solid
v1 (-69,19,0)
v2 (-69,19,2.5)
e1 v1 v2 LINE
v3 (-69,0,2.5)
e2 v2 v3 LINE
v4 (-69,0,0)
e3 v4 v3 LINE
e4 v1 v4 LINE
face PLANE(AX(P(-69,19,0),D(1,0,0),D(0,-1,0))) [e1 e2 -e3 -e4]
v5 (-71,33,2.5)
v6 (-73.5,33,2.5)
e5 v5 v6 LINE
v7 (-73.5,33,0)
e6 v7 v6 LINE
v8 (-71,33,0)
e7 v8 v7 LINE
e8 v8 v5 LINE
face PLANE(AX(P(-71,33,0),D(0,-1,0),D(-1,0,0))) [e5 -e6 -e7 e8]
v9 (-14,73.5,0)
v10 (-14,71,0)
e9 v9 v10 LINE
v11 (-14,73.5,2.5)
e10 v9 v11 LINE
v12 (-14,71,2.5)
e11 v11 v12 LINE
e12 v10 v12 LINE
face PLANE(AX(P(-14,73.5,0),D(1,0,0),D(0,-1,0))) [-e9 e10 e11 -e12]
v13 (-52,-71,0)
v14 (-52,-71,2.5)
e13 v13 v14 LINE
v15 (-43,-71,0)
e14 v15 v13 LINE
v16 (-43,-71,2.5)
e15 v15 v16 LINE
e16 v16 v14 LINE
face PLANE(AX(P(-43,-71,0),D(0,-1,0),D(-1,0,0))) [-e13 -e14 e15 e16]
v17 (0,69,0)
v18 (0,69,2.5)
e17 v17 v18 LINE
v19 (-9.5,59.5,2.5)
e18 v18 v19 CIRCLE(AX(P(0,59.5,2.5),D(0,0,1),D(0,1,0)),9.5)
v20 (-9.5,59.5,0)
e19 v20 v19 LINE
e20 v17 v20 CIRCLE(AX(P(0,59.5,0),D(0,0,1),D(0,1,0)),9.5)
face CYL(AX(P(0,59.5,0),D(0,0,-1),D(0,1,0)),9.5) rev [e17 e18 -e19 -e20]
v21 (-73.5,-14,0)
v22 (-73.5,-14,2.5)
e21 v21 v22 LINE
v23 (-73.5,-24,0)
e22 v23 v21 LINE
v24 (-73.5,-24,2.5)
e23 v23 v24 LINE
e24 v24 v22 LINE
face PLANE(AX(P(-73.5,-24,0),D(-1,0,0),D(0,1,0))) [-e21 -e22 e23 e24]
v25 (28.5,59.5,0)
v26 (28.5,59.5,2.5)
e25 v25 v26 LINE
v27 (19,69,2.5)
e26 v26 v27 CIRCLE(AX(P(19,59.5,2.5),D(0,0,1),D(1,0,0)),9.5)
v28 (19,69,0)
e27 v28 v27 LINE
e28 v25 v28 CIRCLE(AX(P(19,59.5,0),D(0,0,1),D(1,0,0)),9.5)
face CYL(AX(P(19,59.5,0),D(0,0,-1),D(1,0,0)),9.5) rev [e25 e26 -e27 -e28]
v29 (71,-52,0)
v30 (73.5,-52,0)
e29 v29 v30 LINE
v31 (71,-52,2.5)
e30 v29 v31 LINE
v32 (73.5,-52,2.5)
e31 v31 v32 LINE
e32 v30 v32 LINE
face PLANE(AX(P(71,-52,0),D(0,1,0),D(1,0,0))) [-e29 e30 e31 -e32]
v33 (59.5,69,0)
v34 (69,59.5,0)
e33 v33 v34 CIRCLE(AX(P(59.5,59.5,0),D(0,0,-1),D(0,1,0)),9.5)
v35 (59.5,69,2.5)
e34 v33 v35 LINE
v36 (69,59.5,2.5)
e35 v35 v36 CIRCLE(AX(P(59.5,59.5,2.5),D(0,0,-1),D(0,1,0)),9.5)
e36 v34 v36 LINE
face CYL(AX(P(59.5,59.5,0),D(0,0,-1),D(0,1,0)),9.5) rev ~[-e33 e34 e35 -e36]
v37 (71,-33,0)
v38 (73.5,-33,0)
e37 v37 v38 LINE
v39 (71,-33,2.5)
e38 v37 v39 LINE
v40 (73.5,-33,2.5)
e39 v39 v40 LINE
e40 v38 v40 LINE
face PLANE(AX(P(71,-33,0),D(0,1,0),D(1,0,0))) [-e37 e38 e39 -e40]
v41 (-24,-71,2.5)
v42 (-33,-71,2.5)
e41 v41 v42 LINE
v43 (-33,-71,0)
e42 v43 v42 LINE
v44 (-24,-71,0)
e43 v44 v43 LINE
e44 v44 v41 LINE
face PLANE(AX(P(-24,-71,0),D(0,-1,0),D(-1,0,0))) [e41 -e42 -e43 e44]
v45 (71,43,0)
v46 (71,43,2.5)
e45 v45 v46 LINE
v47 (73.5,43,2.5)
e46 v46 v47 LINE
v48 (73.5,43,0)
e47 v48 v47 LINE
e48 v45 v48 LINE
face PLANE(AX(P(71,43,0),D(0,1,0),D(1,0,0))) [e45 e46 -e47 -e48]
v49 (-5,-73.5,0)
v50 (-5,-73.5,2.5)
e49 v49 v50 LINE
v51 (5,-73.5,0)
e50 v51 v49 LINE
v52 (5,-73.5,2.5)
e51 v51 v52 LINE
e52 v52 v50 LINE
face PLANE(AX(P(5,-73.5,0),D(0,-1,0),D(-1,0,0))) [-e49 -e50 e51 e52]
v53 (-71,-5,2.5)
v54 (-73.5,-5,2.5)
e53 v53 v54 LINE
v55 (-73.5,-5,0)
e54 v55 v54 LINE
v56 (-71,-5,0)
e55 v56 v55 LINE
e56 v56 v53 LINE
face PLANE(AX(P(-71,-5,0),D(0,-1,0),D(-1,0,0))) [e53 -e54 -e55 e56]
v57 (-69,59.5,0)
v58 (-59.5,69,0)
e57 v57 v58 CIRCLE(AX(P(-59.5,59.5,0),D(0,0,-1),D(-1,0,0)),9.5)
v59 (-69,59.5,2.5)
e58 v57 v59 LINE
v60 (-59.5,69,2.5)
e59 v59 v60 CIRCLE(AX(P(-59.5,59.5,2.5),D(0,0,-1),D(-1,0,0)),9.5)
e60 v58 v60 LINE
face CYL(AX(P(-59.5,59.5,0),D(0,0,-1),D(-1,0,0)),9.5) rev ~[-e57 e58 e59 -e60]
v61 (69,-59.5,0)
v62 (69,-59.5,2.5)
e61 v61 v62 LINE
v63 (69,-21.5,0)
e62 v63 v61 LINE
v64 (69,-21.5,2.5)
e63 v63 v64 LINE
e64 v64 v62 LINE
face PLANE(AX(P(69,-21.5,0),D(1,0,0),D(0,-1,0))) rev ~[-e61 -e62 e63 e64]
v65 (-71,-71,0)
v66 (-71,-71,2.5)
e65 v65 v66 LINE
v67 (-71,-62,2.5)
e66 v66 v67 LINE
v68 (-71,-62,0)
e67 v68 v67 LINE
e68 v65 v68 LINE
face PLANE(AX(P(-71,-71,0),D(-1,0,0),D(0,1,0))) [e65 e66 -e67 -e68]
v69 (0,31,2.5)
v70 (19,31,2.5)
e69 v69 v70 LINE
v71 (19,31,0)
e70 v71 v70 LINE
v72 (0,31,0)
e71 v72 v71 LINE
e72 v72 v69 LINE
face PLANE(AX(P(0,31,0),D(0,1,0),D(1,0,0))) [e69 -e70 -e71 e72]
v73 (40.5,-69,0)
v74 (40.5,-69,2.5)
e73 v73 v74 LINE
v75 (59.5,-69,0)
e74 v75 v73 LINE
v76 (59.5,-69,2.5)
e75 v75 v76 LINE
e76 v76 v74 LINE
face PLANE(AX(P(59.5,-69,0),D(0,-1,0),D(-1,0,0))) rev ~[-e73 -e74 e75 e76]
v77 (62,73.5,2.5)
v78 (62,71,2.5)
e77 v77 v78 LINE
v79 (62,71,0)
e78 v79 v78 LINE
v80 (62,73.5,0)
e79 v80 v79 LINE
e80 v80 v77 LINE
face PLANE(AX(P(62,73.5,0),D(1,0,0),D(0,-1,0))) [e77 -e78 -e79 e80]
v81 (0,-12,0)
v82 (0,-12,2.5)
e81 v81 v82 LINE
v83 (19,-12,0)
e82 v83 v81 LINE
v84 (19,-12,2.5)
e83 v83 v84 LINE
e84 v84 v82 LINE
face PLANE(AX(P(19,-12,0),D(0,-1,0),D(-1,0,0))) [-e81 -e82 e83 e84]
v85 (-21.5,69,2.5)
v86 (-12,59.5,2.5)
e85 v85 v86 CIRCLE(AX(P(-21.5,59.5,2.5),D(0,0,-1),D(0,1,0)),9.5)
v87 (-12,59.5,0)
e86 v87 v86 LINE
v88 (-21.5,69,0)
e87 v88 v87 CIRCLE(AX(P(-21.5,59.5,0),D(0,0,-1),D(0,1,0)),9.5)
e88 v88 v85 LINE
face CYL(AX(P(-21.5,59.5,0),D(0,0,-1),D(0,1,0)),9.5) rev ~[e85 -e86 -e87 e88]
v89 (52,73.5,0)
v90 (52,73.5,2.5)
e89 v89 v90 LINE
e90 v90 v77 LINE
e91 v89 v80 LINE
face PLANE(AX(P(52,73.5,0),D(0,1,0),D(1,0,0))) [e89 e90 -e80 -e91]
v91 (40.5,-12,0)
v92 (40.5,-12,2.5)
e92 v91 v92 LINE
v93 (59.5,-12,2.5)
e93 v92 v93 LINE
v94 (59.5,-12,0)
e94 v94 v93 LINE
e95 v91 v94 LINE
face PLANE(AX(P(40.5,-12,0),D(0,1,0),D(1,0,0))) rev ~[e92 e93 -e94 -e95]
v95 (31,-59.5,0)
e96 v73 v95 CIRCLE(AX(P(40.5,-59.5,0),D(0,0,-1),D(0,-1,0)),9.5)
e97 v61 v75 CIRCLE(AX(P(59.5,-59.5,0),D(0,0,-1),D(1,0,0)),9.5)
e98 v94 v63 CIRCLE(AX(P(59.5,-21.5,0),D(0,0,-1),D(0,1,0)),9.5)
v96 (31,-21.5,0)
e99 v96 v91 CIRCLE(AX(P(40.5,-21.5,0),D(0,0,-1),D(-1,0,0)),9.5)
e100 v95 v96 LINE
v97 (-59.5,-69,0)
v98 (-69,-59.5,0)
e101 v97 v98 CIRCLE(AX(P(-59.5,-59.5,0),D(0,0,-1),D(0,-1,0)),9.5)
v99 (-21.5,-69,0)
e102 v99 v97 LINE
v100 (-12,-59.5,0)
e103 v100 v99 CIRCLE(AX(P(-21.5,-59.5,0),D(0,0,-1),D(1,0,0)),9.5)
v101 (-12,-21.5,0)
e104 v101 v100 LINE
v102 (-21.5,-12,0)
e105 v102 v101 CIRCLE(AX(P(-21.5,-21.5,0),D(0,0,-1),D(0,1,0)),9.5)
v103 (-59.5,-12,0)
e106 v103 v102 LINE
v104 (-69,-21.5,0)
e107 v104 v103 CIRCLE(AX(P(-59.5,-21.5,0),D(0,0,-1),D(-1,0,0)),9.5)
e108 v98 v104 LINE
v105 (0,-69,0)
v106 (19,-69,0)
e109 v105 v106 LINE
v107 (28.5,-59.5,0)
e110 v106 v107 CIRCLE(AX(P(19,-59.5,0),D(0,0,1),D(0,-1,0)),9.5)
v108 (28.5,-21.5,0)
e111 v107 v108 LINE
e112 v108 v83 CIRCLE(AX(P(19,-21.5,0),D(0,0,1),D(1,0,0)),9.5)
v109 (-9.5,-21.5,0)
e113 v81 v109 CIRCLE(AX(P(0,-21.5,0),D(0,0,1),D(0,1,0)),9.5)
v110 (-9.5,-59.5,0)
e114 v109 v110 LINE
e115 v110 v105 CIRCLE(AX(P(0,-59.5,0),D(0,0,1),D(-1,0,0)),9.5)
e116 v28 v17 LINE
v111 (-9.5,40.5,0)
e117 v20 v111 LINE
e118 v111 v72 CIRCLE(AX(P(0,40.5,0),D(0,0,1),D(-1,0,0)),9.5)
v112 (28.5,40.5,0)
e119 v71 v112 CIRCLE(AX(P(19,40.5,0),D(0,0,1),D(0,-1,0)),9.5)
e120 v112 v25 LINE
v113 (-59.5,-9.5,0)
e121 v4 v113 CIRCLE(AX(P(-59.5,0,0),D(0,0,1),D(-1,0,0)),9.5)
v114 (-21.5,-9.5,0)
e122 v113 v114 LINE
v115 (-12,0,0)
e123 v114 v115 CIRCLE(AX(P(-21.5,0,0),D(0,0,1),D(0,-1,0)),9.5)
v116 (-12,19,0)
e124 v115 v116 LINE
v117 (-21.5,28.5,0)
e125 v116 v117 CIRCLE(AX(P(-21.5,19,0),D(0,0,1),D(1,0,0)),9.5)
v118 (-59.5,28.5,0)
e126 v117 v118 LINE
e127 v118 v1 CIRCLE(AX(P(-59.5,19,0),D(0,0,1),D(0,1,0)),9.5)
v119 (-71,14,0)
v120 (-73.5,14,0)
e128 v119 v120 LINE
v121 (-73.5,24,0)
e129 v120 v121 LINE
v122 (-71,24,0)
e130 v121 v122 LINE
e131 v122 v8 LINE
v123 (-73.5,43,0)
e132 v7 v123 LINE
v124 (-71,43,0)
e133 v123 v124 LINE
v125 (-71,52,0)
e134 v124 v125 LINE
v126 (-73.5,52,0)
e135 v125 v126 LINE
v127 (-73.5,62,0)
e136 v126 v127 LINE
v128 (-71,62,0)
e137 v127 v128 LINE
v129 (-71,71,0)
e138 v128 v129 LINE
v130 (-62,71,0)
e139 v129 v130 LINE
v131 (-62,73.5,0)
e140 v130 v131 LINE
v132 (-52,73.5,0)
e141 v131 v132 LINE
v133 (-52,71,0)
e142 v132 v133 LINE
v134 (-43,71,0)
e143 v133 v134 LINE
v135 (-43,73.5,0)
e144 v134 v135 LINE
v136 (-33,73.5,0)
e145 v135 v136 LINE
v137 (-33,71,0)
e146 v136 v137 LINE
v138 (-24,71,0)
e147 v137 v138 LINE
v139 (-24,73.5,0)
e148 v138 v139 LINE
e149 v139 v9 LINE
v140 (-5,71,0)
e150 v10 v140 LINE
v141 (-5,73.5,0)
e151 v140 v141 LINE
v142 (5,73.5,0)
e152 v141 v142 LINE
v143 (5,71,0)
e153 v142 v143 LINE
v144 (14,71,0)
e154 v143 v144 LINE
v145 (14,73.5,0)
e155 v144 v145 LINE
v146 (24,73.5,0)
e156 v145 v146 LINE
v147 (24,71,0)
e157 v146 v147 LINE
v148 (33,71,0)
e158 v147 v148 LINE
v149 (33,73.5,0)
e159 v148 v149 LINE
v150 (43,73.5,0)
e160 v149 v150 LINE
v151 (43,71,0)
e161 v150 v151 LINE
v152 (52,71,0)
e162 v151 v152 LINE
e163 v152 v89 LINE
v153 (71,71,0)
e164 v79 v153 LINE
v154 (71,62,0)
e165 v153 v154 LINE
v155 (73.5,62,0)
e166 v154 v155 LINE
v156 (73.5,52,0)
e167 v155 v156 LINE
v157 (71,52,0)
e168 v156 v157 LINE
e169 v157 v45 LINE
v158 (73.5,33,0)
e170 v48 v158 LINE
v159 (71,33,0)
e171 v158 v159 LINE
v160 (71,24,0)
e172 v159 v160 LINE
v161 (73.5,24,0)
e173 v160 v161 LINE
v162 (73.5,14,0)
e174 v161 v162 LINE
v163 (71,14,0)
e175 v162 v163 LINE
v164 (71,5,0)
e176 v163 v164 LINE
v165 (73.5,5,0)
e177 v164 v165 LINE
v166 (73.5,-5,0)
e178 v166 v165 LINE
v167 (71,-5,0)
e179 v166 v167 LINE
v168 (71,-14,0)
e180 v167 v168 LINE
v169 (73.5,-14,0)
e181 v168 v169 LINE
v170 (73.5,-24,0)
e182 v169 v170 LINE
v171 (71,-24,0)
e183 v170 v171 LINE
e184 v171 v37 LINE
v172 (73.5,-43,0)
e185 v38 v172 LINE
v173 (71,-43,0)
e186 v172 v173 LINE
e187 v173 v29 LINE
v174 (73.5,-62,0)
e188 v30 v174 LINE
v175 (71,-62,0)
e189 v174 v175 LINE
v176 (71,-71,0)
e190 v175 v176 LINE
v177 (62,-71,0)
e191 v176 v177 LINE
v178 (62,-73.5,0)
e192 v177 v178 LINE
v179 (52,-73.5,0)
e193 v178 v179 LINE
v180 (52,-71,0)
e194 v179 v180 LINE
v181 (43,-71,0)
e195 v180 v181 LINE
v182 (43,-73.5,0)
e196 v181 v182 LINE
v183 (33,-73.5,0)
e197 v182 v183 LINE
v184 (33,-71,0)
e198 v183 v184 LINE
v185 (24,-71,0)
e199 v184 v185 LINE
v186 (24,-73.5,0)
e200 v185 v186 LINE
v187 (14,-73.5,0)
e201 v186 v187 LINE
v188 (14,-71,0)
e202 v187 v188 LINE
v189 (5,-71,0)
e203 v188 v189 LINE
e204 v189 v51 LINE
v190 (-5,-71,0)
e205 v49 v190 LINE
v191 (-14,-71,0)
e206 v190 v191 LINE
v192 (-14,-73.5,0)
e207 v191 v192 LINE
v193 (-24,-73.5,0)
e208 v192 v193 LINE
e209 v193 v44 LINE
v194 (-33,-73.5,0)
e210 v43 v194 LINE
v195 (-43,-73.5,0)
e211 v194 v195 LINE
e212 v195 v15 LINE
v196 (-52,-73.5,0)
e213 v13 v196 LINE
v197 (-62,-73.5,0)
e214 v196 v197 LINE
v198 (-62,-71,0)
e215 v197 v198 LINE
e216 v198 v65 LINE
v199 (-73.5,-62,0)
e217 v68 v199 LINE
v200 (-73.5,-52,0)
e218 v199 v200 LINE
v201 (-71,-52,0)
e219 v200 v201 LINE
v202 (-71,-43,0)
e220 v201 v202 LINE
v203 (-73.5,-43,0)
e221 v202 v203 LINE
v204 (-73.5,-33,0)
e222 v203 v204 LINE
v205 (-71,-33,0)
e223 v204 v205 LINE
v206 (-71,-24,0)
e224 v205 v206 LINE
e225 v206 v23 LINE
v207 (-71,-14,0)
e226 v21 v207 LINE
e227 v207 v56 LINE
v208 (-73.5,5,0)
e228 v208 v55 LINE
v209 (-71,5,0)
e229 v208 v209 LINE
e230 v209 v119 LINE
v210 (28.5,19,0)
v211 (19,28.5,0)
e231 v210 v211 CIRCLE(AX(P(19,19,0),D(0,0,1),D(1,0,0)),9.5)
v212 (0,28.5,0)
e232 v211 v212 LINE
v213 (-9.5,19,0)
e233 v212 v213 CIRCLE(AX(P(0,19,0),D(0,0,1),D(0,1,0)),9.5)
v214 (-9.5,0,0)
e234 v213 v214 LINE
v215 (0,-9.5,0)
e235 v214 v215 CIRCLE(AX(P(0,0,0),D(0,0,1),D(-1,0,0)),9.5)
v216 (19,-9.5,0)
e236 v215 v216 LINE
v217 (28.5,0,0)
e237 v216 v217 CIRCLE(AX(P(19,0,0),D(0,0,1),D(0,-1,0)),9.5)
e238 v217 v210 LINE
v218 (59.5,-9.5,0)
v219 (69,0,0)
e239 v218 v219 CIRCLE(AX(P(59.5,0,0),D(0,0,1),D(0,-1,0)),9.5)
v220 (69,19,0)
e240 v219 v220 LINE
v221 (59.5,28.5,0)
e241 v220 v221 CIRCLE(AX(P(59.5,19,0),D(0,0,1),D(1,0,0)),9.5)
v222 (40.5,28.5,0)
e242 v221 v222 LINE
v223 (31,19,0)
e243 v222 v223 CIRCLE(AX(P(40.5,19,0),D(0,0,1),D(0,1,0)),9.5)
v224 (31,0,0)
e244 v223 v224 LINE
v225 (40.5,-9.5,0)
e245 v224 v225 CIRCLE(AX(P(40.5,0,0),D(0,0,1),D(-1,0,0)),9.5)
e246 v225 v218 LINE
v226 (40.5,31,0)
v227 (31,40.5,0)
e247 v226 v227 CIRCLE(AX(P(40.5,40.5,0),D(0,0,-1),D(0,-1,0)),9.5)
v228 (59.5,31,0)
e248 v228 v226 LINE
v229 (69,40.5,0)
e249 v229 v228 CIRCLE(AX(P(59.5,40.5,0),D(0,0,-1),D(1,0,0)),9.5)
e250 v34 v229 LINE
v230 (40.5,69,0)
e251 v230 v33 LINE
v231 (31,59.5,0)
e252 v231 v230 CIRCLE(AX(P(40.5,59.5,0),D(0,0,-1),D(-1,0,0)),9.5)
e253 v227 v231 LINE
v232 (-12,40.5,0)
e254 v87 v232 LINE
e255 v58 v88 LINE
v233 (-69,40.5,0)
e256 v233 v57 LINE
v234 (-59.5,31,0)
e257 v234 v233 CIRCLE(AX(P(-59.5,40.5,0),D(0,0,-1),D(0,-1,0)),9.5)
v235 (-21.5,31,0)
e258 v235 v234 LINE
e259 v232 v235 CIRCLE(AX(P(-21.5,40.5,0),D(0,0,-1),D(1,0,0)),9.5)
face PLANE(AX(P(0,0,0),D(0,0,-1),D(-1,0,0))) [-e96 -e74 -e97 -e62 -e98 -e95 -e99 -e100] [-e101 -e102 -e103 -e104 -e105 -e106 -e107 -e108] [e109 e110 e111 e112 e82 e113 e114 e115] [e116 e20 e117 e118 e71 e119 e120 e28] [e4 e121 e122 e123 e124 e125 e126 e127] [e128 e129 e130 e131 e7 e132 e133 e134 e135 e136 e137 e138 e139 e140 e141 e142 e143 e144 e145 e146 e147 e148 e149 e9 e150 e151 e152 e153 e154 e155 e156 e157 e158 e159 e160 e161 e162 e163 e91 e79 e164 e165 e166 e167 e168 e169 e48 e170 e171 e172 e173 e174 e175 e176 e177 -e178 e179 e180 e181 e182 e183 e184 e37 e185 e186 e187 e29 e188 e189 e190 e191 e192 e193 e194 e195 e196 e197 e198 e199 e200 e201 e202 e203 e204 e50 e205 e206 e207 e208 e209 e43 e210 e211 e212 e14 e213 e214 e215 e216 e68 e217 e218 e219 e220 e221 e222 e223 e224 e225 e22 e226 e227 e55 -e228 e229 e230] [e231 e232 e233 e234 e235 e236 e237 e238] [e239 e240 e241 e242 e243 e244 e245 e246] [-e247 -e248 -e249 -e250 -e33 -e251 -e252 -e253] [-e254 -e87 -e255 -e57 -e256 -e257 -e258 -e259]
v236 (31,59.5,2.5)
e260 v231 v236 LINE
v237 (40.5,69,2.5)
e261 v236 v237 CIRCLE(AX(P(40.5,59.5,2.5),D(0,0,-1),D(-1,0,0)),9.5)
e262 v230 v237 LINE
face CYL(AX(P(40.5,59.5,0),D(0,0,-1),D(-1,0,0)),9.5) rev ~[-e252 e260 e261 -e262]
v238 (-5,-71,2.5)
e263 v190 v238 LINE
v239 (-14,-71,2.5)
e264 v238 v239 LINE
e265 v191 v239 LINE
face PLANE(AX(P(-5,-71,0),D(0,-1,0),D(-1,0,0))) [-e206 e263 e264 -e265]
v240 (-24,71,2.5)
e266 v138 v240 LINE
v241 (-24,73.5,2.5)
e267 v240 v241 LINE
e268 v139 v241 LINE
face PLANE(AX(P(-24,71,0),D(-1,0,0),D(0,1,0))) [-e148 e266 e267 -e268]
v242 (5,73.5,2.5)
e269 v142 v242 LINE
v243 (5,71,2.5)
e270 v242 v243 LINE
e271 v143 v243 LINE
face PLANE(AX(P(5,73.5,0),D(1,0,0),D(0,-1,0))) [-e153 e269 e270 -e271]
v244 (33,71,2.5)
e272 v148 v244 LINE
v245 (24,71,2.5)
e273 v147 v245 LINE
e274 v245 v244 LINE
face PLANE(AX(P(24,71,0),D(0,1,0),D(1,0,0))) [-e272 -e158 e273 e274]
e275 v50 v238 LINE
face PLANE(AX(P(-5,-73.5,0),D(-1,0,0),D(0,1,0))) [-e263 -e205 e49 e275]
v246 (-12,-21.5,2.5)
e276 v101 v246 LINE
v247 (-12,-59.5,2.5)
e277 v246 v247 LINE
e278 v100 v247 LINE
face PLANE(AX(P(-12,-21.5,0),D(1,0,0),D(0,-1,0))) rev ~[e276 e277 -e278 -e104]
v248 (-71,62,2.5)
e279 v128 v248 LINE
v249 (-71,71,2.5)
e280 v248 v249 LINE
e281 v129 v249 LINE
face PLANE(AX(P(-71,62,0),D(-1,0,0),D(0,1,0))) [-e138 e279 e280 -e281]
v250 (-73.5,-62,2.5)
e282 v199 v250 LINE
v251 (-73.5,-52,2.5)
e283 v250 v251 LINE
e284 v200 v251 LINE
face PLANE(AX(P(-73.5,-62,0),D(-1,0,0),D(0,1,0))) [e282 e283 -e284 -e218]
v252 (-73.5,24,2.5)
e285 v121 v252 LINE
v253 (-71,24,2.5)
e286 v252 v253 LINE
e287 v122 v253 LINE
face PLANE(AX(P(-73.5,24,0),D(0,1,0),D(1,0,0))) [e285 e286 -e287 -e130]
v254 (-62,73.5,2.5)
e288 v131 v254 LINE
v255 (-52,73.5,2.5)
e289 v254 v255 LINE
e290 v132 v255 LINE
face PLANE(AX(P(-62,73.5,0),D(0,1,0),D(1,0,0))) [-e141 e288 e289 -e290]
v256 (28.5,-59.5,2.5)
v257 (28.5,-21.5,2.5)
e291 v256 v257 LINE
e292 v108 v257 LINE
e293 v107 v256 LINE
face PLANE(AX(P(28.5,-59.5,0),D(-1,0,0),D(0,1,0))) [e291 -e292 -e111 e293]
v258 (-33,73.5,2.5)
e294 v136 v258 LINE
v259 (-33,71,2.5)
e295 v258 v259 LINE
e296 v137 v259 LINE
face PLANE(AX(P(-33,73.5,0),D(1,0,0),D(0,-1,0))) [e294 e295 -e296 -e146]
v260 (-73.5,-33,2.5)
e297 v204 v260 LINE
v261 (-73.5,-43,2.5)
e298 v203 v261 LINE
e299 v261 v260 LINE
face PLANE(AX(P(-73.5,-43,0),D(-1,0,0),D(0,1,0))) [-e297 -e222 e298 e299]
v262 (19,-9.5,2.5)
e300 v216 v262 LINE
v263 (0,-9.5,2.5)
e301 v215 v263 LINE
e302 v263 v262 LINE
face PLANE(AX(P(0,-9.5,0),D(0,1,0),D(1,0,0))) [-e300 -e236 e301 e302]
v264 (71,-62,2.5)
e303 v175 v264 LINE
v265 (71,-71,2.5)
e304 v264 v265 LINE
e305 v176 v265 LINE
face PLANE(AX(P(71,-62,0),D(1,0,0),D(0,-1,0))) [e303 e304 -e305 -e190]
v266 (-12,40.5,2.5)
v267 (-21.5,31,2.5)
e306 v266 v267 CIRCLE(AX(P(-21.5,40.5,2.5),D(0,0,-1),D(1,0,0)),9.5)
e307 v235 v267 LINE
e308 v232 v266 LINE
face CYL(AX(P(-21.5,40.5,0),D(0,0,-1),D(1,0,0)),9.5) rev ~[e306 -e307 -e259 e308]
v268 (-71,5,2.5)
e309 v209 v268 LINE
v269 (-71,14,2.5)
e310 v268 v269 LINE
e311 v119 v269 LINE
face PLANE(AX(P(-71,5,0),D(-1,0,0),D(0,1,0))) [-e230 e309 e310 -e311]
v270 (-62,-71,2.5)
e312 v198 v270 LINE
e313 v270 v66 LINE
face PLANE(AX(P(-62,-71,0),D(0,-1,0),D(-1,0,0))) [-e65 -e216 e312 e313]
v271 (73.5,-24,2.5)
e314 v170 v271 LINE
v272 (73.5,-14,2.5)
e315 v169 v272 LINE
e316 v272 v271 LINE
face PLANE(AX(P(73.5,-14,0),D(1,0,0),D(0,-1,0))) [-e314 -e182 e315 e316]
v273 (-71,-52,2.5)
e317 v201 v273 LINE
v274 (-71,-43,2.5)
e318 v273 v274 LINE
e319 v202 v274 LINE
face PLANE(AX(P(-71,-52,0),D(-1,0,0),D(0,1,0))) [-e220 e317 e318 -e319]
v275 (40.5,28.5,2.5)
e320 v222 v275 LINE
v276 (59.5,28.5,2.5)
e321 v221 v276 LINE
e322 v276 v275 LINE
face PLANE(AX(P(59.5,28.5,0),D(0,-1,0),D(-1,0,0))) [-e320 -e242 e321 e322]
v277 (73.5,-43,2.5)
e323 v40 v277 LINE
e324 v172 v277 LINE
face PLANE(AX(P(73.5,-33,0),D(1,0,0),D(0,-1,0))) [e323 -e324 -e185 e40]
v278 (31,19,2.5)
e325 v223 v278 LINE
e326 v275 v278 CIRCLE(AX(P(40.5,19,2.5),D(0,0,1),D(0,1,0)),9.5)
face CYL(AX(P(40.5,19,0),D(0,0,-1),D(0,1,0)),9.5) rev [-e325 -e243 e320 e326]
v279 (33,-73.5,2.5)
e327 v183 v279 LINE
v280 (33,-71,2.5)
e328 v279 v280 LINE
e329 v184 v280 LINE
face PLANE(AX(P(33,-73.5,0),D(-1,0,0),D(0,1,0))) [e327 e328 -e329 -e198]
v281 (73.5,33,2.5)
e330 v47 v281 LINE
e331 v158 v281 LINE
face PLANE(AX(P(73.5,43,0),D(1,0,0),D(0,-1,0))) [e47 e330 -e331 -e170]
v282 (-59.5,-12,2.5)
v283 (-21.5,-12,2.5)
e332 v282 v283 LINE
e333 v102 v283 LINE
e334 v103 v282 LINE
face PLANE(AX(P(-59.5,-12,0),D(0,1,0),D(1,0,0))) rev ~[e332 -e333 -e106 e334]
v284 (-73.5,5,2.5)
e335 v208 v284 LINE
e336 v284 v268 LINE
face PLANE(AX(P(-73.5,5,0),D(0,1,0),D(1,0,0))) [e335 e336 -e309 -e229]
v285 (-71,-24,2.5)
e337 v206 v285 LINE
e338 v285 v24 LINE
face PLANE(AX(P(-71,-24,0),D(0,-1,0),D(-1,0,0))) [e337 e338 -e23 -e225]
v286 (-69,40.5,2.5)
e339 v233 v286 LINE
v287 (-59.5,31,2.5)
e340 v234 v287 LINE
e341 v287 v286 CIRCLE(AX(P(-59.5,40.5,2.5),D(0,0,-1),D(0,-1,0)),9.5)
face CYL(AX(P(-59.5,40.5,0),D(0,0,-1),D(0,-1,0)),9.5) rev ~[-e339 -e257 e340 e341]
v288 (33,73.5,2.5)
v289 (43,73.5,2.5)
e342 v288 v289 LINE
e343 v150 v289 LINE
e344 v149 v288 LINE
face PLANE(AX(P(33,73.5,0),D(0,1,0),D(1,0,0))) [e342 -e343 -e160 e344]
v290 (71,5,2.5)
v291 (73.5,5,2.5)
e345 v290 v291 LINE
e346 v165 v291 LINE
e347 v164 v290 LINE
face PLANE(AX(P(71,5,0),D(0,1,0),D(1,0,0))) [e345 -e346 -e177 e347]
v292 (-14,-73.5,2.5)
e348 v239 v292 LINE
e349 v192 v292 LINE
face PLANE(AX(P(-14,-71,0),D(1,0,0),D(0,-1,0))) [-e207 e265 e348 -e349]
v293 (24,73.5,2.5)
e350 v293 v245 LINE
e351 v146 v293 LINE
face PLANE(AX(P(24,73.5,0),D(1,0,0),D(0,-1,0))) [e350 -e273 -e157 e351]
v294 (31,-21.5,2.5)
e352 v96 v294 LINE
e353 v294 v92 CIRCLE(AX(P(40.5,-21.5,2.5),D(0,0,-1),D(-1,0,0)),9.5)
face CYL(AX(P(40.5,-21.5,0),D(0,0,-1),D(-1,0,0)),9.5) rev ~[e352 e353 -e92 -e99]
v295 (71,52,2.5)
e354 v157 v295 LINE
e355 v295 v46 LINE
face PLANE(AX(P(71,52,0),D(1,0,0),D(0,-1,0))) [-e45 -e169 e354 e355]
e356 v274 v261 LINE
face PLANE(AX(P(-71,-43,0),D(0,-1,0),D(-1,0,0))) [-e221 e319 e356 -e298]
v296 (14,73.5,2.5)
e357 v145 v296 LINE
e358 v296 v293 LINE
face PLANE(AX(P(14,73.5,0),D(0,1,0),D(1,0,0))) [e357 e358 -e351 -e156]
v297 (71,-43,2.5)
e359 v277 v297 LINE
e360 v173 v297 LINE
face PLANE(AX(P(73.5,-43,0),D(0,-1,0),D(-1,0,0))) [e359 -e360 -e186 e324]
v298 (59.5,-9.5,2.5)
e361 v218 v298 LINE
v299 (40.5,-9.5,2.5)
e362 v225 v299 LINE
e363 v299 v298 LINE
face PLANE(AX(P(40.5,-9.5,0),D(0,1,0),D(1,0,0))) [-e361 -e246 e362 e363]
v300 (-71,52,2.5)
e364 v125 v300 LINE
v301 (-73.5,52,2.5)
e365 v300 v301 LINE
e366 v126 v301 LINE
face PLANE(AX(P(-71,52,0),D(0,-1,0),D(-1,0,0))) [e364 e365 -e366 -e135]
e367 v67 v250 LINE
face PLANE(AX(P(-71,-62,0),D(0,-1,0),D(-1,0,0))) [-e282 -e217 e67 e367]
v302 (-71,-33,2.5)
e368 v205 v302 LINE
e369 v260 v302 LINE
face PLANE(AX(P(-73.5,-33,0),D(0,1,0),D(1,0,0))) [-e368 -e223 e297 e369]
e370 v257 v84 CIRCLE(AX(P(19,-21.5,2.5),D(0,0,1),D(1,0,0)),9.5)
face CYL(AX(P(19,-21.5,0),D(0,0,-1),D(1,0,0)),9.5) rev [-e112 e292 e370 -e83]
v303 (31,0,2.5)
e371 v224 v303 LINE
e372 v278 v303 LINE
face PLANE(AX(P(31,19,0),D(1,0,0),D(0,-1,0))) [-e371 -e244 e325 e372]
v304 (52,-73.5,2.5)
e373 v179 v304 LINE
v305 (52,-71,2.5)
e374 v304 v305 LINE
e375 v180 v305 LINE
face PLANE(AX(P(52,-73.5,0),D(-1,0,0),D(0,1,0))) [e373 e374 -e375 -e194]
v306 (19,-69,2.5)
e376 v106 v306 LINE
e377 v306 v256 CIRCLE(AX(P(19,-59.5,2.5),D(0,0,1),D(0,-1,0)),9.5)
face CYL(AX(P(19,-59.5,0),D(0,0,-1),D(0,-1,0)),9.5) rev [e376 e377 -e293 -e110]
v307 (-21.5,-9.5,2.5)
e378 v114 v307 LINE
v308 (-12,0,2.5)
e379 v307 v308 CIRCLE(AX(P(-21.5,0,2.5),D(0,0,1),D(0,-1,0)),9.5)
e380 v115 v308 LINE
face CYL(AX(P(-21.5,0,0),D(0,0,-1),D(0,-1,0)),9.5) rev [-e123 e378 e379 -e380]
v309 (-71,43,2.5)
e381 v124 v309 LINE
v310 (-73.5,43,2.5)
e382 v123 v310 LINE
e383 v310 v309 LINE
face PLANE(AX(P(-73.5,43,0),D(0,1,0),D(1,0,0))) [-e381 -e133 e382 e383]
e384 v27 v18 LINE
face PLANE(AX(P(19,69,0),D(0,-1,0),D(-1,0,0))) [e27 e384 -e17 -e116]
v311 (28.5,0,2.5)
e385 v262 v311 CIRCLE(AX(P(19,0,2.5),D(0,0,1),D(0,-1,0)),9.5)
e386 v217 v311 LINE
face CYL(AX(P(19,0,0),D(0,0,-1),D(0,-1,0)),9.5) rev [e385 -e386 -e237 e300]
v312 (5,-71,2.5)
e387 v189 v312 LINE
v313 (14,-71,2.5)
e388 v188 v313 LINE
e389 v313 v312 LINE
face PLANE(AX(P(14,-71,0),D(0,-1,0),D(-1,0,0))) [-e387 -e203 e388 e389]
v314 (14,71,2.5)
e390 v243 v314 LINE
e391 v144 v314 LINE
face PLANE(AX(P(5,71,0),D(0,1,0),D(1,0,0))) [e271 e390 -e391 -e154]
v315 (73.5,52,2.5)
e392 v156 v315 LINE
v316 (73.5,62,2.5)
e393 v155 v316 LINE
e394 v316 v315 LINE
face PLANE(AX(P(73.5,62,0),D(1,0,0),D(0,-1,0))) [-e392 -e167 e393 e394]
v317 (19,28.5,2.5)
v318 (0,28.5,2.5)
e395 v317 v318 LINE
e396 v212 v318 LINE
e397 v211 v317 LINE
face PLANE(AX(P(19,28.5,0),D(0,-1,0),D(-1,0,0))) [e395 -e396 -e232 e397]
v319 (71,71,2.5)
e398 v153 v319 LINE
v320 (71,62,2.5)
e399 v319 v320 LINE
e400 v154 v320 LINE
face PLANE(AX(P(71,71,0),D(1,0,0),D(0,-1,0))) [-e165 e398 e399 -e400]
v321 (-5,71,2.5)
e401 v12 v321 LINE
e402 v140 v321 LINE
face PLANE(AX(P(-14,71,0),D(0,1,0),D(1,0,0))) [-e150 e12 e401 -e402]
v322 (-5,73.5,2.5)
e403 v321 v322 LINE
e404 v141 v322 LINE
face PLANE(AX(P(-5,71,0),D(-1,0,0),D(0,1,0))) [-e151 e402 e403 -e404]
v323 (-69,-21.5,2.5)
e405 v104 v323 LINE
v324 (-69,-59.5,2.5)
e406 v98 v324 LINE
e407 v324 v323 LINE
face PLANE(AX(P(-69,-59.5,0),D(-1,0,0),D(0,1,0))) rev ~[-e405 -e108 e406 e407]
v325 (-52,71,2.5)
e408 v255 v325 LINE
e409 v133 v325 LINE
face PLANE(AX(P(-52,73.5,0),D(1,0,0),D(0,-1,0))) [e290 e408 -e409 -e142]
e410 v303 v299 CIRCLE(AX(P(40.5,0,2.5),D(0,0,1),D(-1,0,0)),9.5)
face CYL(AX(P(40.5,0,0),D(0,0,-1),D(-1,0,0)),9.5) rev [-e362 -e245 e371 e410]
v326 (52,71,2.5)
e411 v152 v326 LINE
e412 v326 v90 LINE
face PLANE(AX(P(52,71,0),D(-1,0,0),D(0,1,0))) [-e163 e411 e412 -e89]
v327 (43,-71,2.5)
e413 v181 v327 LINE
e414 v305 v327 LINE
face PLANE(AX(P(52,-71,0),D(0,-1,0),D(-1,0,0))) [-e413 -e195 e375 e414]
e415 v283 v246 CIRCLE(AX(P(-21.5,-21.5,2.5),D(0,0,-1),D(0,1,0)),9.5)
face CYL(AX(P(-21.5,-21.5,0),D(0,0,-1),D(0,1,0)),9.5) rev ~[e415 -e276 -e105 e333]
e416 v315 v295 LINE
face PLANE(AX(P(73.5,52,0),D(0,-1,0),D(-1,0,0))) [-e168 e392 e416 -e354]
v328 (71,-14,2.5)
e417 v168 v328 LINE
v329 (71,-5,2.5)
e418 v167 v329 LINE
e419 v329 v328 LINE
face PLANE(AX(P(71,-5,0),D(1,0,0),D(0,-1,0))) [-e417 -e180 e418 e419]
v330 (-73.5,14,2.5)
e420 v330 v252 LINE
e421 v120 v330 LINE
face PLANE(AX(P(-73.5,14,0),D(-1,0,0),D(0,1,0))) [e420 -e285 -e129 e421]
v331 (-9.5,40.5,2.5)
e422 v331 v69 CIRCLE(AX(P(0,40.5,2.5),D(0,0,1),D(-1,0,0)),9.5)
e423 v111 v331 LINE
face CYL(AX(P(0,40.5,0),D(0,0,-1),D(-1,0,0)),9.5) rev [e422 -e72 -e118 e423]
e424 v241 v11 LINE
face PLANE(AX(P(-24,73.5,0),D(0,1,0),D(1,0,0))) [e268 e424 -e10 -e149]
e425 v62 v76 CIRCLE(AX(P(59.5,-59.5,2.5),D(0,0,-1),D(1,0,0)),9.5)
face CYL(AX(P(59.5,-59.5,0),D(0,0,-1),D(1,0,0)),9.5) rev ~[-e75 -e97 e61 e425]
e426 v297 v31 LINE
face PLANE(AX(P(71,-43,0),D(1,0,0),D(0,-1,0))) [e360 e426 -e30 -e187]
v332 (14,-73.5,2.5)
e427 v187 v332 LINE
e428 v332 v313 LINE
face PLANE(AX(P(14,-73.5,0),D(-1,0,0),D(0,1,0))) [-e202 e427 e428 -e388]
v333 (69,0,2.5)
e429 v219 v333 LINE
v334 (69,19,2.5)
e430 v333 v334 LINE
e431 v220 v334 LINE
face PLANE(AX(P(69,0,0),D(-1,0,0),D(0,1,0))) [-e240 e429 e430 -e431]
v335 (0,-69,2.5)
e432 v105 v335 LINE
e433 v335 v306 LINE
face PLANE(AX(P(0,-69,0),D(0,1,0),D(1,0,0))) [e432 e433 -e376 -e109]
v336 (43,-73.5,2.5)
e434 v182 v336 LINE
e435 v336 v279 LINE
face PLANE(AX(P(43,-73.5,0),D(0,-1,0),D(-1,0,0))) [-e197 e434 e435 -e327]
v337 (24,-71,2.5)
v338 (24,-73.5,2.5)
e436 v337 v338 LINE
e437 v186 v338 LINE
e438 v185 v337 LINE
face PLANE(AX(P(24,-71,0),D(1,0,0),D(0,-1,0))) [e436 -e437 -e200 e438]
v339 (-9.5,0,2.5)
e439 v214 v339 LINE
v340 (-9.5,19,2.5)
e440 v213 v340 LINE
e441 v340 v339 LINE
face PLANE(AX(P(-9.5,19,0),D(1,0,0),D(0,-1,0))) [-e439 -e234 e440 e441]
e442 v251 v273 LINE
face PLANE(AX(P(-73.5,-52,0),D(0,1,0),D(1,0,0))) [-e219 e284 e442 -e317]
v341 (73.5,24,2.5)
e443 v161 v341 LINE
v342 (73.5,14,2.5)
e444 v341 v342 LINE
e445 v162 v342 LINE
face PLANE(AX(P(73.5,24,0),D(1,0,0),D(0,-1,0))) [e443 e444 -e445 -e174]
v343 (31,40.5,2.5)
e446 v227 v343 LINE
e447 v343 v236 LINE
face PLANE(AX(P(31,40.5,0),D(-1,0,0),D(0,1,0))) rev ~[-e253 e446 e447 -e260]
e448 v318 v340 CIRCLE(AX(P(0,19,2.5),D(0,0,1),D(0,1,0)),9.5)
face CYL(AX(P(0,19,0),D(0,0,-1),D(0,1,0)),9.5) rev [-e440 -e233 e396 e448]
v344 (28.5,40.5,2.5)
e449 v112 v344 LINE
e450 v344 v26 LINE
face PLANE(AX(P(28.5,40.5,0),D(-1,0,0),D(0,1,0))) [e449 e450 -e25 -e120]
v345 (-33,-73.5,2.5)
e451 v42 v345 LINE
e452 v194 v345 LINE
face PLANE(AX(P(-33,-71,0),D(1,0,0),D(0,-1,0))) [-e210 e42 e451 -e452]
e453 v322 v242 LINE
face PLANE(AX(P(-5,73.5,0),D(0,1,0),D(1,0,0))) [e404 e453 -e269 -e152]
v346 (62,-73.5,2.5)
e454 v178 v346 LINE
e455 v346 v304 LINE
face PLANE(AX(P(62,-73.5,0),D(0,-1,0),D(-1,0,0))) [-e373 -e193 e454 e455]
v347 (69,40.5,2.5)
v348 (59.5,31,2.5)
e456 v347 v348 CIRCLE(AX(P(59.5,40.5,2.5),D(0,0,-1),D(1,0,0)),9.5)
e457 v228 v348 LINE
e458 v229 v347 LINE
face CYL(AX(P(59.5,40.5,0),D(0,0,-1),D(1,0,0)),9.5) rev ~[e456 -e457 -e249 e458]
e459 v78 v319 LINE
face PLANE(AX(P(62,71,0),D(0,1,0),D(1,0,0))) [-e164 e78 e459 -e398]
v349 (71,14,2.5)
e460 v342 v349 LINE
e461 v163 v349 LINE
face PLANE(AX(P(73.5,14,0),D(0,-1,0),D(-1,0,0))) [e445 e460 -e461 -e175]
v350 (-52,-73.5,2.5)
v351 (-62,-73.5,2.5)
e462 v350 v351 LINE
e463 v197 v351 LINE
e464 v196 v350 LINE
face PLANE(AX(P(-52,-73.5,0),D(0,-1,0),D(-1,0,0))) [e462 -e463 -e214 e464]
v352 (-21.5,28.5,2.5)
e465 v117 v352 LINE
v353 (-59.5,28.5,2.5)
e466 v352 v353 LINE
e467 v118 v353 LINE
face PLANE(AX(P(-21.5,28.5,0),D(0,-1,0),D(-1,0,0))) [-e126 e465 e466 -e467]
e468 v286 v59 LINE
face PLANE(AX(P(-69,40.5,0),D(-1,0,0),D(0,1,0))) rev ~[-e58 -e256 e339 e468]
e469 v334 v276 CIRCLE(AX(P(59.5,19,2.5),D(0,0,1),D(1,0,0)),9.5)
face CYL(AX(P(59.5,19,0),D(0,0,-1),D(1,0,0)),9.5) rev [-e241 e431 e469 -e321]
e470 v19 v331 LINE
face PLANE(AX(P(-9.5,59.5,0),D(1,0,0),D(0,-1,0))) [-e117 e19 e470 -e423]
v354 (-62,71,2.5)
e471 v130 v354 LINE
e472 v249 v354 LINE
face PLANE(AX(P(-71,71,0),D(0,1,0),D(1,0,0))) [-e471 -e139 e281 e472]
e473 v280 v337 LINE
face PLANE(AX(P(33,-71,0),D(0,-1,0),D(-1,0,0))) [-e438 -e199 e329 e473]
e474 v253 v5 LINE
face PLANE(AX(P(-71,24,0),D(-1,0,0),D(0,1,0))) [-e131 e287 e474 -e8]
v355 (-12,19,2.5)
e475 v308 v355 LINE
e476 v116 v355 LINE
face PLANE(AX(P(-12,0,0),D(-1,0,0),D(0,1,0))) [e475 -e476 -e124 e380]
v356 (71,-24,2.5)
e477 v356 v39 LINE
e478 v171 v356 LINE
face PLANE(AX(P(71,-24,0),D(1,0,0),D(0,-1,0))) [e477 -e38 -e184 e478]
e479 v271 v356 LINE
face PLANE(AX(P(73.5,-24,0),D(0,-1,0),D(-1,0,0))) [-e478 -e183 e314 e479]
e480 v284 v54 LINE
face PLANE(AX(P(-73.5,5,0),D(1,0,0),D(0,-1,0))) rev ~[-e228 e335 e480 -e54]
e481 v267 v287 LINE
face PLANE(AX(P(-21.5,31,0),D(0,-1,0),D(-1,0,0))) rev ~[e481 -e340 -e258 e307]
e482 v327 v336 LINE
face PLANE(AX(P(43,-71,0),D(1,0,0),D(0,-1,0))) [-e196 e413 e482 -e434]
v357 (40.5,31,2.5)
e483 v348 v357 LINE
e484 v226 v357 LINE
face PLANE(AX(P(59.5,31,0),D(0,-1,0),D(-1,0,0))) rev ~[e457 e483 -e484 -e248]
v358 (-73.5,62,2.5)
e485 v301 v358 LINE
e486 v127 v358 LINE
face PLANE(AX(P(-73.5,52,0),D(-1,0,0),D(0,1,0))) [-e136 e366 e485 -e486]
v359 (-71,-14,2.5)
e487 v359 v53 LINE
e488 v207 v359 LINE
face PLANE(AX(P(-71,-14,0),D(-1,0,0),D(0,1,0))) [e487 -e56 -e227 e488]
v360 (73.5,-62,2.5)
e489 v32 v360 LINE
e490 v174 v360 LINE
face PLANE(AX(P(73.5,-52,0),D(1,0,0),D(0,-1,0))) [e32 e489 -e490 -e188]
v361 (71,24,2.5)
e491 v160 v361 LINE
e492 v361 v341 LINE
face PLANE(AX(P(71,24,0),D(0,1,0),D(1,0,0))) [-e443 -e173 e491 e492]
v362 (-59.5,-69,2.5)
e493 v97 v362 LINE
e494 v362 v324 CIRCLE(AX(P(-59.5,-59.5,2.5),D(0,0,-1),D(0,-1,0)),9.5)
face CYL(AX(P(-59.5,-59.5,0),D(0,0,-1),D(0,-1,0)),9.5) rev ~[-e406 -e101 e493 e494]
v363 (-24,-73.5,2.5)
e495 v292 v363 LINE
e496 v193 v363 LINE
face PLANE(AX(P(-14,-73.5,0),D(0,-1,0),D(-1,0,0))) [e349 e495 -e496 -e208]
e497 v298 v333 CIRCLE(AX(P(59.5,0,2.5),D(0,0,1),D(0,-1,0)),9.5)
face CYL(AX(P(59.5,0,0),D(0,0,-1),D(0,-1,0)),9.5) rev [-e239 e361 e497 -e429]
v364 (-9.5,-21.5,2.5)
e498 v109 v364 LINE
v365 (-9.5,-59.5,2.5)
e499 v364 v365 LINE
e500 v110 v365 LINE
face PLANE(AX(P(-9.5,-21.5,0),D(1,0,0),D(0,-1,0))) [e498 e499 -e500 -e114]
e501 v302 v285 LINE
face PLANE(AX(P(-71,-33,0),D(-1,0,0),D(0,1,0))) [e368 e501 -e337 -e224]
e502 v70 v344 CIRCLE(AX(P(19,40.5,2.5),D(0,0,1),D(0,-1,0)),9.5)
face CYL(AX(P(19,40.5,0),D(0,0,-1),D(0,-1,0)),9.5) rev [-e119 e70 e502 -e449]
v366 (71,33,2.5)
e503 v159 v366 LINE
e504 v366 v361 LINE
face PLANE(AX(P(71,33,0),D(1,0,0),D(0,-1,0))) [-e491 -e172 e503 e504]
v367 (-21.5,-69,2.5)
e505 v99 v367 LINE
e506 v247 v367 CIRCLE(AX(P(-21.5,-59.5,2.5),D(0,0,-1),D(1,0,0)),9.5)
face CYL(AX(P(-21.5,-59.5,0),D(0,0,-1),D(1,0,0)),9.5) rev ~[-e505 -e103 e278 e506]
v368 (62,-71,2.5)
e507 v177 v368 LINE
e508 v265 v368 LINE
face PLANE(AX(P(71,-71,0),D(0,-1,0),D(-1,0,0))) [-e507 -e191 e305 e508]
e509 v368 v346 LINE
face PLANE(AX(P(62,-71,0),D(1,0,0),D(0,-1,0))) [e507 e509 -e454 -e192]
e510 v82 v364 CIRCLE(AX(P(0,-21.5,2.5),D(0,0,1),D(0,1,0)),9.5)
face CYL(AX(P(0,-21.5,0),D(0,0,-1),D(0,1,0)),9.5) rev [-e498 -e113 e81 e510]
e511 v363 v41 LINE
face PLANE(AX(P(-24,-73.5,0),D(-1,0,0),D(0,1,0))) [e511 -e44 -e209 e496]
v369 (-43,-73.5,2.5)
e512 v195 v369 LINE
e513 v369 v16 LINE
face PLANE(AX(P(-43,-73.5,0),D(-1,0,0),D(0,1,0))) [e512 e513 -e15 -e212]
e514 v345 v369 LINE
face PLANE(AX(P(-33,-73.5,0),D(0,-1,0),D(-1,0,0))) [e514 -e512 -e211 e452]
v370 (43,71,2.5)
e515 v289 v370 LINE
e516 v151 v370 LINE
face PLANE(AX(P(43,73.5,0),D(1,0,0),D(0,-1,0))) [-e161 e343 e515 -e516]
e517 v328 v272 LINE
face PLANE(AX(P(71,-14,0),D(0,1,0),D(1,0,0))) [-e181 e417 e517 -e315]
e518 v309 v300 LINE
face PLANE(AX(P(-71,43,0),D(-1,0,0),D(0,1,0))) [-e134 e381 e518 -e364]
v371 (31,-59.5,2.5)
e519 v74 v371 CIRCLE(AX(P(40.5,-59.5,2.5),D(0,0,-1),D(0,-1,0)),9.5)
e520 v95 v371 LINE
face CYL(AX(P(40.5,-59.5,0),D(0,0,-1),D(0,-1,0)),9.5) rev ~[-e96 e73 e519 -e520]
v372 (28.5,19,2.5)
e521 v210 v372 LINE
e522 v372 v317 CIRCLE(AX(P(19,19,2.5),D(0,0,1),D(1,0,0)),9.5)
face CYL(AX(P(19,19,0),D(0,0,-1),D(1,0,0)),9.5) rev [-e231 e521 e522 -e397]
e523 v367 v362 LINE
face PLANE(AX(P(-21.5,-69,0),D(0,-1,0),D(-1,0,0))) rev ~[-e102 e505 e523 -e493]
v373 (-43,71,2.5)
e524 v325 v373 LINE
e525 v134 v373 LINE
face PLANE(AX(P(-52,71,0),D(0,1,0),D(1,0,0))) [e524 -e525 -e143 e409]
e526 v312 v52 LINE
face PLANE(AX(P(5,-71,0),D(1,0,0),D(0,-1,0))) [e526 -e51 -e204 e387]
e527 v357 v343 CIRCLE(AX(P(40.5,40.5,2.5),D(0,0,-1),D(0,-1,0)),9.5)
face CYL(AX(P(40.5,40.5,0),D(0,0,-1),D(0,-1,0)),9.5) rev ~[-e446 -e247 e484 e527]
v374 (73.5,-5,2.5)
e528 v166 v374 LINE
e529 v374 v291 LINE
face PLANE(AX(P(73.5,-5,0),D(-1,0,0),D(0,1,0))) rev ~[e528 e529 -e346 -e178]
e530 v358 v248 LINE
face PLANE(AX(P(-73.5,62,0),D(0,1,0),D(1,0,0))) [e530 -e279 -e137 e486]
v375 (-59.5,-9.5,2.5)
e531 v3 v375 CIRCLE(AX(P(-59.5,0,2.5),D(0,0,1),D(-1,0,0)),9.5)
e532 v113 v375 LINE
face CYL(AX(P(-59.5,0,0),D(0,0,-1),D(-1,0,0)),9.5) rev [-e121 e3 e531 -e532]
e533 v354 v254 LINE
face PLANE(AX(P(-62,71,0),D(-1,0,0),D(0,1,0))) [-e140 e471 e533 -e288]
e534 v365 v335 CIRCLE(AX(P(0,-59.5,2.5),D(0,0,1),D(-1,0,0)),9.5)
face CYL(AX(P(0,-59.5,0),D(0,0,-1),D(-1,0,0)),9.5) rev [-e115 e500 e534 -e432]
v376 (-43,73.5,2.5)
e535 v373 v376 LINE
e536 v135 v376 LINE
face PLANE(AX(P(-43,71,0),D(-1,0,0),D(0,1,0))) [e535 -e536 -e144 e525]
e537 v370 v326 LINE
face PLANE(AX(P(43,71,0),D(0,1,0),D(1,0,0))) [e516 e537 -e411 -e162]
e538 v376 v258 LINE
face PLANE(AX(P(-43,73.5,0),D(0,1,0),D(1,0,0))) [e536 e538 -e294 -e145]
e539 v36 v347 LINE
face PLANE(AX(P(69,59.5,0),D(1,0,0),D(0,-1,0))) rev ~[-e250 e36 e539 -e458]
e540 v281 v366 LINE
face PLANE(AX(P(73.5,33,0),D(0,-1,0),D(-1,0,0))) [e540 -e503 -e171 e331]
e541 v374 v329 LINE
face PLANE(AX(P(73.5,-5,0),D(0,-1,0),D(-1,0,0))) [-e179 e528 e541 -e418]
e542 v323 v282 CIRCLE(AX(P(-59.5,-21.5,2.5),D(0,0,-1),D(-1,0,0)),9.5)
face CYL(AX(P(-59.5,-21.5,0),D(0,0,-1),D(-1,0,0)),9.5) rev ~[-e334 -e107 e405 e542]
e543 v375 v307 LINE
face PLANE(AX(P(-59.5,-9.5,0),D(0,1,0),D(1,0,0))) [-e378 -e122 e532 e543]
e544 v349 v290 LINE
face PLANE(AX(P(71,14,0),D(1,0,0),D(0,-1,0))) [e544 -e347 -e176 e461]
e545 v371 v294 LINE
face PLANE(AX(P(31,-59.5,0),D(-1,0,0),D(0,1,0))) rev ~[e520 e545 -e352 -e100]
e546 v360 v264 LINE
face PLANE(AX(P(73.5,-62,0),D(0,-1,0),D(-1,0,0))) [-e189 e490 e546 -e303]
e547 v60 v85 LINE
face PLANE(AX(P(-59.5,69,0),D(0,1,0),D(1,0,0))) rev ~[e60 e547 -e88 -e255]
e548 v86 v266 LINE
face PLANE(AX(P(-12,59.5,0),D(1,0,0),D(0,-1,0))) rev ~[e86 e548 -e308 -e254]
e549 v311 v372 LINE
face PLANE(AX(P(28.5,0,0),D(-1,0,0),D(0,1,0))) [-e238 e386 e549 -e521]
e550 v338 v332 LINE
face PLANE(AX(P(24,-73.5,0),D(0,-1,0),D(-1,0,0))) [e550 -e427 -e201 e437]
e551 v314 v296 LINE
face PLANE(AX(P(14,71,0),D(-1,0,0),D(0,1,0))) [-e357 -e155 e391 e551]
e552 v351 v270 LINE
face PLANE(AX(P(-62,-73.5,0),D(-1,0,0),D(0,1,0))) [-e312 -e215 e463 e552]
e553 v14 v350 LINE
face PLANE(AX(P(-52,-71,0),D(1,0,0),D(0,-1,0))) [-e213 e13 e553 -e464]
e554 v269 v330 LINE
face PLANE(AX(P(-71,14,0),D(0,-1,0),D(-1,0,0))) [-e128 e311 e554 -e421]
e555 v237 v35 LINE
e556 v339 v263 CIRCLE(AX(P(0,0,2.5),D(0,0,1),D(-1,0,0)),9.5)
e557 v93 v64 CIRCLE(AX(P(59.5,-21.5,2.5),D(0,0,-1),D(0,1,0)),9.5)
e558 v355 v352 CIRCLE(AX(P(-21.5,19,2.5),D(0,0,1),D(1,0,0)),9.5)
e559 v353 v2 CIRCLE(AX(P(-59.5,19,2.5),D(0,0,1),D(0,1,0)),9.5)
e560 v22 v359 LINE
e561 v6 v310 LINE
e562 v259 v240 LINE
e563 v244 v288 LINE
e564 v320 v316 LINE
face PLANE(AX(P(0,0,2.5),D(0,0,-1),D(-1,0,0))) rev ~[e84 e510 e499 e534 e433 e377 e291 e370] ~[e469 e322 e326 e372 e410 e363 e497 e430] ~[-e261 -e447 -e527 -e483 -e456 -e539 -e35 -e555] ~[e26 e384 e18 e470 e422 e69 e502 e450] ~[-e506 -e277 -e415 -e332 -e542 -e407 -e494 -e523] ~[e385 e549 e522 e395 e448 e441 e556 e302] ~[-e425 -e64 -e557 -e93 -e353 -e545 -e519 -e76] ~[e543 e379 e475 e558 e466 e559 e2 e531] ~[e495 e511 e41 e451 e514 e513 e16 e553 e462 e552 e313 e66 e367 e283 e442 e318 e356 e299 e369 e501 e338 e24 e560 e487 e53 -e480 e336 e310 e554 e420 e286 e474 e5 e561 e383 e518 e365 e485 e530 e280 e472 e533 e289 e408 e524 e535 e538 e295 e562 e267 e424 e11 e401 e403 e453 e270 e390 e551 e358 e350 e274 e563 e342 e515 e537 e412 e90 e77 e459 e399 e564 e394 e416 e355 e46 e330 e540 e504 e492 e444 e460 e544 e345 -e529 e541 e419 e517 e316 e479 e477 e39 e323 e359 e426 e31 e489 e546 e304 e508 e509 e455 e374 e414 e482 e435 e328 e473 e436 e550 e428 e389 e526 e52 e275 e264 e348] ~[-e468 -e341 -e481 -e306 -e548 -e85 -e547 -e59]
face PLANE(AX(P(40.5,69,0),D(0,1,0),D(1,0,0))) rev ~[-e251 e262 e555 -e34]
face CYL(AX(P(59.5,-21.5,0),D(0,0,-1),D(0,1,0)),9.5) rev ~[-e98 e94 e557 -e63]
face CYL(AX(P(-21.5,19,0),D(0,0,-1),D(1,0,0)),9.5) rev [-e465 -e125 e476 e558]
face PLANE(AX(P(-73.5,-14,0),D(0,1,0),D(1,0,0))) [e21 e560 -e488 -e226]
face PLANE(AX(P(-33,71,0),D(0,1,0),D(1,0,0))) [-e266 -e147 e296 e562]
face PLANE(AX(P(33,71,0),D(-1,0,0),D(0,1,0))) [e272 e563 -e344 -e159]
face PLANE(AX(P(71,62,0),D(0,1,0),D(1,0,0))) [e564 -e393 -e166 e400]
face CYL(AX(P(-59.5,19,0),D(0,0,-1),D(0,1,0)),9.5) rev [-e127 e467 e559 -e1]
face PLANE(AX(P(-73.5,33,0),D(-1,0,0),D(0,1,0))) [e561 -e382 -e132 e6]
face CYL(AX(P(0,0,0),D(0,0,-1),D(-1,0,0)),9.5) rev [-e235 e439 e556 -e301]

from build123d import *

# Parameters (mm, degrees)
BOSS_EXTRUDE1_DEPTH = 2.5


with BuildPart() as part:
    # Sketch1 → Boss-Extrude1 (new body)
    with BuildSketch(Plane.XY):
        Polygon((-73.5, 0), (-73.5, 5), (-71, 5), (-71, 14), (-73.5, 14), (-73.5, 24), (-71, 24), (-71, 33), (-73.5, 33), (-73.5, 43), (-71, 43), (-71, 52), (-73.5, 52), (-73.5, 62), (-71, 62), (-71, 71), (-62, 71), (-62, 73.5), (-52, 73.5), (-52, 71), (-43, 71), (-43, 73.5), (-33, 73.5), (-33, 71), (-24, 71), (-24, 73.5), (-14, 73.5), (-14, 71), (-5, 71), (-5, 73.5), (5, 73.5), (5, 71), (14, 71), (14, 73.5), (24, 73.5), (24, 71), (33, 71), (33, 73.5), (43, 73.5), (43, 71), (52, 71), (52, 73.5), (62, 73.5), (62, 71), (71, 71), (71, 62), (73.5, 62), (73.5, 52), (71, 52), (71, 43), (73.5, 43), (73.5, 33), (71, 33), (71, 24), (73.5, 24), (73.5, 14), (71, 14), (71, 5), (73.5, 5), (73.5, 0), (73.5, -5), (71, -5), (71, -14), (73.5, -14), (73.5, -24), (71, -24), (71, -33), (73.5, -33), (73.5, -43), (71, -43), (71, -52), (73.5, -52), (73.5, -62), (71, -62), (71, -71), (62, -71), (62, -73.5), (52, -73.5), (52, -71), (43, -71), (43, -73.5), (33, -73.5), (33, -71), (24, -71), (24, -73.5), (14, -73.5), (14, -71), (5, -71), (5, -73.5), (-5, -73.5), (-5, -71), (-14, -71), (-14, -73.5), (-24, -73.5), (-24, -71), (-33, -71), (-33, -73.5), (-43, -73.5), (-43, -71), (-52, -71), (-52, -73.5), (-62, -73.5), (-62, -71), (-71, -71), (-71, -62), (-73.5, -62), (-73.5, -52), (-71, -52), (-71, -43), (-73.5, -43), (-73.5, -33), (-71, -33), (-71, -24), (-73.5, -24), (-73.5, -14), (-71, -14), (-71, -5), (-73.5, -5), align=None)
        with BuildLine():
            Line((-9.5, 59.5), (-9.5, 40.5))
            ThreePointArc((-9.5, 40.5), (-6.717514421, 33.782485579), (0, 31))
            Line((0, 31), (19, 31))
            ThreePointArc((19, 31), (25.717514421, 33.782485579), (28.5, 40.5))
            Line((28.5, 40.5), (28.5, 59.5))
            ThreePointArc((28.5, 59.5), (25.717514421, 66.217514421), (19, 69))
            Line((19, 69), (0, 69))
            ThreePointArc((0, 69), (-6.717514421, 66.217514421), (-9.5, 59.5))
        make_face(mode=Mode.SUBTRACT)
        with BuildLine():
            Line((40.5, 69), (59.5, 69))
            ThreePointArc((59.5, 69), (66.217514421, 66.217514421), (69, 59.5))
            Line((69, 59.5), (69, 40.5))
            ThreePointArc((69, 40.5), (66.217514421, 33.782485579), (59.5, 31))
            Line((59.5, 31), (40.5, 31))
            ThreePointArc((40.5, 31), (33.782485579, 33.782485579), (31, 40.5))
            Line((31, 40.5), (31, 59.5))
            ThreePointArc((31, 59.5), (33.782485579, 66.217514421), (40.5, 69))
        make_face(mode=Mode.SUBTRACT)
        with BuildLine():
            Line((-9.5, 19), (-9.5, 0))
            ThreePointArc((-9.5, 0), (-6.717514421, -6.717514421), (0, -9.5))
            Line((0, -9.5), (19, -9.5))
            ThreePointArc((19, -9.5), (25.717514421, -6.717514421), (28.5, 0))
            Line((28.5, 0), (28.5, 19))
            ThreePointArc((28.5, 19), (25.717514421, 25.717514421), (19, 28.5))
            Line((19, 28.5), (0, 28.5))
            ThreePointArc((0, 28.5), (-6.717514421, 25.717514421), (-9.5, 19))
        make_face(mode=Mode.SUBTRACT)
        with BuildLine():
            Line((31, 19), (31, 0))
            ThreePointArc((31, 0), (33.782485579, -6.717514421), (40.5, -9.5))
            Line((40.5, -9.5), (59.5, -9.5))
            ThreePointArc((59.5, -9.5), (66.217514421, -6.717514421), (69, 0))
            Line((69, 0), (69, 19))
            ThreePointArc((69, 19), (66.217514421, 25.717514421), (59.5, 28.5))
            Line((59.5, 28.5), (40.5, 28.5))
            ThreePointArc((40.5, 28.5), (33.782485579, 25.717514421), (31, 19))
        make_face(mode=Mode.SUBTRACT)
        with BuildLine():
            Line((-69, 19), (-69, 0))
            ThreePointArc((-69, 0), (-66.217514421, -6.717514421), (-59.5, -9.5))
            Line((-59.5, -9.5), (-21.5, -9.5))
            ThreePointArc((-21.5, -9.5), (-14.782485579, -6.717514421), (-12, 0))
            Line((-12, 0), (-12, 19))
            ThreePointArc((-12, 19), (-14.782485579, 25.717514421), (-21.5, 28.5))
            Line((-21.5, 28.5), (-59.5, 28.5))
            ThreePointArc((-59.5, 28.5), (-66.217514421, 25.717514421), (-69, 19))
        make_face(mode=Mode.SUBTRACT)
        with BuildLine():
            Line((-59.5, 69), (-21.5, 69))
            ThreePointArc((-21.5, 69), (-14.782485579, 66.217514421), (-12, 59.5))
            Line((-12, 59.5), (-12, 40.5))
            ThreePointArc((-12, 40.5), (-14.782485579, 33.782485579), (-21.5, 31))
            Line((-21.5, 31), (-59.5, 31))
            ThreePointArc((-59.5, 31), (-66.217514421, 33.782485579), (-69, 40.5))
            Line((-69, 40.5), (-69, 59.5))
            ThreePointArc((-69, 59.5), (-66.217514421, 66.217514421), (-59.5, 69))
        make_face(mode=Mode.SUBTRACT)
        with BuildLine():
            Line((-9.5, -21.5), (-9.5, -59.5))
            ThreePointArc((-9.5, -59.5), (-6.717514421, -66.217514421), (0, -69))
            Line((0, -69), (19, -69))
            ThreePointArc((19, -69), (25.717514421, -66.217514421), (28.5, -59.5))
            Line((28.5, -59.5), (28.5, -21.5))
            ThreePointArc((28.5, -21.5), (25.717514421, -14.782485579), (19, -12))
            Line((19, -12), (0, -12))
            ThreePointArc((0, -12), (-6.717514421, -14.782485579), (-9.5, -21.5))
        make_face(mode=Mode.SUBTRACT)
        with BuildLine():
            Line((40.5, -12), (59.5, -12))
            ThreePointArc((59.5, -12), (66.217514421, -14.782485579), (69, -21.5))
            Line((69, -21.5), (69, -59.5))
            ThreePointArc((69, -59.5), (66.217514421, -66.217514421), (59.5, -69))
            Line((59.5, -69), (40.5, -69))
            ThreePointArc((40.5, -69), (33.782485579, -66.217514421), (31, -59.5))
            Line((31, -59.5), (31, -21.5))
            ThreePointArc((31, -21.5), (33.782485579, -14.782485579), (40.5, -12))
        make_face(mode=Mode.SUBTRACT)
        with BuildLine():
            Line((-59.5, -12), (-21.5, -12))
            ThreePointArc((-21.5, -12), (-14.782485579, -14.782485579), (-12, -21.5))
            Line((-12, -21.5), (-12, -59.5))
            ThreePointArc((-12, -59.5), (-14.782485579, -66.217514421), (-21.5, -69))
            Line((-21.5, -69), (-59.5, -69))
            ThreePointArc((-59.5, -69), (-66.217514421, -66.217514421), (-69, -59.5))
            Line((-69, -59.5), (-69, -21.5))
            ThreePointArc((-69, -21.5), (-66.217514421, -14.782485579), (-59.5, -12))
        make_face(mode=Mode.SUBTRACT)
    extrude(amount=BOSS_EXTRUDE1_DEPTH)


solid = part.part
